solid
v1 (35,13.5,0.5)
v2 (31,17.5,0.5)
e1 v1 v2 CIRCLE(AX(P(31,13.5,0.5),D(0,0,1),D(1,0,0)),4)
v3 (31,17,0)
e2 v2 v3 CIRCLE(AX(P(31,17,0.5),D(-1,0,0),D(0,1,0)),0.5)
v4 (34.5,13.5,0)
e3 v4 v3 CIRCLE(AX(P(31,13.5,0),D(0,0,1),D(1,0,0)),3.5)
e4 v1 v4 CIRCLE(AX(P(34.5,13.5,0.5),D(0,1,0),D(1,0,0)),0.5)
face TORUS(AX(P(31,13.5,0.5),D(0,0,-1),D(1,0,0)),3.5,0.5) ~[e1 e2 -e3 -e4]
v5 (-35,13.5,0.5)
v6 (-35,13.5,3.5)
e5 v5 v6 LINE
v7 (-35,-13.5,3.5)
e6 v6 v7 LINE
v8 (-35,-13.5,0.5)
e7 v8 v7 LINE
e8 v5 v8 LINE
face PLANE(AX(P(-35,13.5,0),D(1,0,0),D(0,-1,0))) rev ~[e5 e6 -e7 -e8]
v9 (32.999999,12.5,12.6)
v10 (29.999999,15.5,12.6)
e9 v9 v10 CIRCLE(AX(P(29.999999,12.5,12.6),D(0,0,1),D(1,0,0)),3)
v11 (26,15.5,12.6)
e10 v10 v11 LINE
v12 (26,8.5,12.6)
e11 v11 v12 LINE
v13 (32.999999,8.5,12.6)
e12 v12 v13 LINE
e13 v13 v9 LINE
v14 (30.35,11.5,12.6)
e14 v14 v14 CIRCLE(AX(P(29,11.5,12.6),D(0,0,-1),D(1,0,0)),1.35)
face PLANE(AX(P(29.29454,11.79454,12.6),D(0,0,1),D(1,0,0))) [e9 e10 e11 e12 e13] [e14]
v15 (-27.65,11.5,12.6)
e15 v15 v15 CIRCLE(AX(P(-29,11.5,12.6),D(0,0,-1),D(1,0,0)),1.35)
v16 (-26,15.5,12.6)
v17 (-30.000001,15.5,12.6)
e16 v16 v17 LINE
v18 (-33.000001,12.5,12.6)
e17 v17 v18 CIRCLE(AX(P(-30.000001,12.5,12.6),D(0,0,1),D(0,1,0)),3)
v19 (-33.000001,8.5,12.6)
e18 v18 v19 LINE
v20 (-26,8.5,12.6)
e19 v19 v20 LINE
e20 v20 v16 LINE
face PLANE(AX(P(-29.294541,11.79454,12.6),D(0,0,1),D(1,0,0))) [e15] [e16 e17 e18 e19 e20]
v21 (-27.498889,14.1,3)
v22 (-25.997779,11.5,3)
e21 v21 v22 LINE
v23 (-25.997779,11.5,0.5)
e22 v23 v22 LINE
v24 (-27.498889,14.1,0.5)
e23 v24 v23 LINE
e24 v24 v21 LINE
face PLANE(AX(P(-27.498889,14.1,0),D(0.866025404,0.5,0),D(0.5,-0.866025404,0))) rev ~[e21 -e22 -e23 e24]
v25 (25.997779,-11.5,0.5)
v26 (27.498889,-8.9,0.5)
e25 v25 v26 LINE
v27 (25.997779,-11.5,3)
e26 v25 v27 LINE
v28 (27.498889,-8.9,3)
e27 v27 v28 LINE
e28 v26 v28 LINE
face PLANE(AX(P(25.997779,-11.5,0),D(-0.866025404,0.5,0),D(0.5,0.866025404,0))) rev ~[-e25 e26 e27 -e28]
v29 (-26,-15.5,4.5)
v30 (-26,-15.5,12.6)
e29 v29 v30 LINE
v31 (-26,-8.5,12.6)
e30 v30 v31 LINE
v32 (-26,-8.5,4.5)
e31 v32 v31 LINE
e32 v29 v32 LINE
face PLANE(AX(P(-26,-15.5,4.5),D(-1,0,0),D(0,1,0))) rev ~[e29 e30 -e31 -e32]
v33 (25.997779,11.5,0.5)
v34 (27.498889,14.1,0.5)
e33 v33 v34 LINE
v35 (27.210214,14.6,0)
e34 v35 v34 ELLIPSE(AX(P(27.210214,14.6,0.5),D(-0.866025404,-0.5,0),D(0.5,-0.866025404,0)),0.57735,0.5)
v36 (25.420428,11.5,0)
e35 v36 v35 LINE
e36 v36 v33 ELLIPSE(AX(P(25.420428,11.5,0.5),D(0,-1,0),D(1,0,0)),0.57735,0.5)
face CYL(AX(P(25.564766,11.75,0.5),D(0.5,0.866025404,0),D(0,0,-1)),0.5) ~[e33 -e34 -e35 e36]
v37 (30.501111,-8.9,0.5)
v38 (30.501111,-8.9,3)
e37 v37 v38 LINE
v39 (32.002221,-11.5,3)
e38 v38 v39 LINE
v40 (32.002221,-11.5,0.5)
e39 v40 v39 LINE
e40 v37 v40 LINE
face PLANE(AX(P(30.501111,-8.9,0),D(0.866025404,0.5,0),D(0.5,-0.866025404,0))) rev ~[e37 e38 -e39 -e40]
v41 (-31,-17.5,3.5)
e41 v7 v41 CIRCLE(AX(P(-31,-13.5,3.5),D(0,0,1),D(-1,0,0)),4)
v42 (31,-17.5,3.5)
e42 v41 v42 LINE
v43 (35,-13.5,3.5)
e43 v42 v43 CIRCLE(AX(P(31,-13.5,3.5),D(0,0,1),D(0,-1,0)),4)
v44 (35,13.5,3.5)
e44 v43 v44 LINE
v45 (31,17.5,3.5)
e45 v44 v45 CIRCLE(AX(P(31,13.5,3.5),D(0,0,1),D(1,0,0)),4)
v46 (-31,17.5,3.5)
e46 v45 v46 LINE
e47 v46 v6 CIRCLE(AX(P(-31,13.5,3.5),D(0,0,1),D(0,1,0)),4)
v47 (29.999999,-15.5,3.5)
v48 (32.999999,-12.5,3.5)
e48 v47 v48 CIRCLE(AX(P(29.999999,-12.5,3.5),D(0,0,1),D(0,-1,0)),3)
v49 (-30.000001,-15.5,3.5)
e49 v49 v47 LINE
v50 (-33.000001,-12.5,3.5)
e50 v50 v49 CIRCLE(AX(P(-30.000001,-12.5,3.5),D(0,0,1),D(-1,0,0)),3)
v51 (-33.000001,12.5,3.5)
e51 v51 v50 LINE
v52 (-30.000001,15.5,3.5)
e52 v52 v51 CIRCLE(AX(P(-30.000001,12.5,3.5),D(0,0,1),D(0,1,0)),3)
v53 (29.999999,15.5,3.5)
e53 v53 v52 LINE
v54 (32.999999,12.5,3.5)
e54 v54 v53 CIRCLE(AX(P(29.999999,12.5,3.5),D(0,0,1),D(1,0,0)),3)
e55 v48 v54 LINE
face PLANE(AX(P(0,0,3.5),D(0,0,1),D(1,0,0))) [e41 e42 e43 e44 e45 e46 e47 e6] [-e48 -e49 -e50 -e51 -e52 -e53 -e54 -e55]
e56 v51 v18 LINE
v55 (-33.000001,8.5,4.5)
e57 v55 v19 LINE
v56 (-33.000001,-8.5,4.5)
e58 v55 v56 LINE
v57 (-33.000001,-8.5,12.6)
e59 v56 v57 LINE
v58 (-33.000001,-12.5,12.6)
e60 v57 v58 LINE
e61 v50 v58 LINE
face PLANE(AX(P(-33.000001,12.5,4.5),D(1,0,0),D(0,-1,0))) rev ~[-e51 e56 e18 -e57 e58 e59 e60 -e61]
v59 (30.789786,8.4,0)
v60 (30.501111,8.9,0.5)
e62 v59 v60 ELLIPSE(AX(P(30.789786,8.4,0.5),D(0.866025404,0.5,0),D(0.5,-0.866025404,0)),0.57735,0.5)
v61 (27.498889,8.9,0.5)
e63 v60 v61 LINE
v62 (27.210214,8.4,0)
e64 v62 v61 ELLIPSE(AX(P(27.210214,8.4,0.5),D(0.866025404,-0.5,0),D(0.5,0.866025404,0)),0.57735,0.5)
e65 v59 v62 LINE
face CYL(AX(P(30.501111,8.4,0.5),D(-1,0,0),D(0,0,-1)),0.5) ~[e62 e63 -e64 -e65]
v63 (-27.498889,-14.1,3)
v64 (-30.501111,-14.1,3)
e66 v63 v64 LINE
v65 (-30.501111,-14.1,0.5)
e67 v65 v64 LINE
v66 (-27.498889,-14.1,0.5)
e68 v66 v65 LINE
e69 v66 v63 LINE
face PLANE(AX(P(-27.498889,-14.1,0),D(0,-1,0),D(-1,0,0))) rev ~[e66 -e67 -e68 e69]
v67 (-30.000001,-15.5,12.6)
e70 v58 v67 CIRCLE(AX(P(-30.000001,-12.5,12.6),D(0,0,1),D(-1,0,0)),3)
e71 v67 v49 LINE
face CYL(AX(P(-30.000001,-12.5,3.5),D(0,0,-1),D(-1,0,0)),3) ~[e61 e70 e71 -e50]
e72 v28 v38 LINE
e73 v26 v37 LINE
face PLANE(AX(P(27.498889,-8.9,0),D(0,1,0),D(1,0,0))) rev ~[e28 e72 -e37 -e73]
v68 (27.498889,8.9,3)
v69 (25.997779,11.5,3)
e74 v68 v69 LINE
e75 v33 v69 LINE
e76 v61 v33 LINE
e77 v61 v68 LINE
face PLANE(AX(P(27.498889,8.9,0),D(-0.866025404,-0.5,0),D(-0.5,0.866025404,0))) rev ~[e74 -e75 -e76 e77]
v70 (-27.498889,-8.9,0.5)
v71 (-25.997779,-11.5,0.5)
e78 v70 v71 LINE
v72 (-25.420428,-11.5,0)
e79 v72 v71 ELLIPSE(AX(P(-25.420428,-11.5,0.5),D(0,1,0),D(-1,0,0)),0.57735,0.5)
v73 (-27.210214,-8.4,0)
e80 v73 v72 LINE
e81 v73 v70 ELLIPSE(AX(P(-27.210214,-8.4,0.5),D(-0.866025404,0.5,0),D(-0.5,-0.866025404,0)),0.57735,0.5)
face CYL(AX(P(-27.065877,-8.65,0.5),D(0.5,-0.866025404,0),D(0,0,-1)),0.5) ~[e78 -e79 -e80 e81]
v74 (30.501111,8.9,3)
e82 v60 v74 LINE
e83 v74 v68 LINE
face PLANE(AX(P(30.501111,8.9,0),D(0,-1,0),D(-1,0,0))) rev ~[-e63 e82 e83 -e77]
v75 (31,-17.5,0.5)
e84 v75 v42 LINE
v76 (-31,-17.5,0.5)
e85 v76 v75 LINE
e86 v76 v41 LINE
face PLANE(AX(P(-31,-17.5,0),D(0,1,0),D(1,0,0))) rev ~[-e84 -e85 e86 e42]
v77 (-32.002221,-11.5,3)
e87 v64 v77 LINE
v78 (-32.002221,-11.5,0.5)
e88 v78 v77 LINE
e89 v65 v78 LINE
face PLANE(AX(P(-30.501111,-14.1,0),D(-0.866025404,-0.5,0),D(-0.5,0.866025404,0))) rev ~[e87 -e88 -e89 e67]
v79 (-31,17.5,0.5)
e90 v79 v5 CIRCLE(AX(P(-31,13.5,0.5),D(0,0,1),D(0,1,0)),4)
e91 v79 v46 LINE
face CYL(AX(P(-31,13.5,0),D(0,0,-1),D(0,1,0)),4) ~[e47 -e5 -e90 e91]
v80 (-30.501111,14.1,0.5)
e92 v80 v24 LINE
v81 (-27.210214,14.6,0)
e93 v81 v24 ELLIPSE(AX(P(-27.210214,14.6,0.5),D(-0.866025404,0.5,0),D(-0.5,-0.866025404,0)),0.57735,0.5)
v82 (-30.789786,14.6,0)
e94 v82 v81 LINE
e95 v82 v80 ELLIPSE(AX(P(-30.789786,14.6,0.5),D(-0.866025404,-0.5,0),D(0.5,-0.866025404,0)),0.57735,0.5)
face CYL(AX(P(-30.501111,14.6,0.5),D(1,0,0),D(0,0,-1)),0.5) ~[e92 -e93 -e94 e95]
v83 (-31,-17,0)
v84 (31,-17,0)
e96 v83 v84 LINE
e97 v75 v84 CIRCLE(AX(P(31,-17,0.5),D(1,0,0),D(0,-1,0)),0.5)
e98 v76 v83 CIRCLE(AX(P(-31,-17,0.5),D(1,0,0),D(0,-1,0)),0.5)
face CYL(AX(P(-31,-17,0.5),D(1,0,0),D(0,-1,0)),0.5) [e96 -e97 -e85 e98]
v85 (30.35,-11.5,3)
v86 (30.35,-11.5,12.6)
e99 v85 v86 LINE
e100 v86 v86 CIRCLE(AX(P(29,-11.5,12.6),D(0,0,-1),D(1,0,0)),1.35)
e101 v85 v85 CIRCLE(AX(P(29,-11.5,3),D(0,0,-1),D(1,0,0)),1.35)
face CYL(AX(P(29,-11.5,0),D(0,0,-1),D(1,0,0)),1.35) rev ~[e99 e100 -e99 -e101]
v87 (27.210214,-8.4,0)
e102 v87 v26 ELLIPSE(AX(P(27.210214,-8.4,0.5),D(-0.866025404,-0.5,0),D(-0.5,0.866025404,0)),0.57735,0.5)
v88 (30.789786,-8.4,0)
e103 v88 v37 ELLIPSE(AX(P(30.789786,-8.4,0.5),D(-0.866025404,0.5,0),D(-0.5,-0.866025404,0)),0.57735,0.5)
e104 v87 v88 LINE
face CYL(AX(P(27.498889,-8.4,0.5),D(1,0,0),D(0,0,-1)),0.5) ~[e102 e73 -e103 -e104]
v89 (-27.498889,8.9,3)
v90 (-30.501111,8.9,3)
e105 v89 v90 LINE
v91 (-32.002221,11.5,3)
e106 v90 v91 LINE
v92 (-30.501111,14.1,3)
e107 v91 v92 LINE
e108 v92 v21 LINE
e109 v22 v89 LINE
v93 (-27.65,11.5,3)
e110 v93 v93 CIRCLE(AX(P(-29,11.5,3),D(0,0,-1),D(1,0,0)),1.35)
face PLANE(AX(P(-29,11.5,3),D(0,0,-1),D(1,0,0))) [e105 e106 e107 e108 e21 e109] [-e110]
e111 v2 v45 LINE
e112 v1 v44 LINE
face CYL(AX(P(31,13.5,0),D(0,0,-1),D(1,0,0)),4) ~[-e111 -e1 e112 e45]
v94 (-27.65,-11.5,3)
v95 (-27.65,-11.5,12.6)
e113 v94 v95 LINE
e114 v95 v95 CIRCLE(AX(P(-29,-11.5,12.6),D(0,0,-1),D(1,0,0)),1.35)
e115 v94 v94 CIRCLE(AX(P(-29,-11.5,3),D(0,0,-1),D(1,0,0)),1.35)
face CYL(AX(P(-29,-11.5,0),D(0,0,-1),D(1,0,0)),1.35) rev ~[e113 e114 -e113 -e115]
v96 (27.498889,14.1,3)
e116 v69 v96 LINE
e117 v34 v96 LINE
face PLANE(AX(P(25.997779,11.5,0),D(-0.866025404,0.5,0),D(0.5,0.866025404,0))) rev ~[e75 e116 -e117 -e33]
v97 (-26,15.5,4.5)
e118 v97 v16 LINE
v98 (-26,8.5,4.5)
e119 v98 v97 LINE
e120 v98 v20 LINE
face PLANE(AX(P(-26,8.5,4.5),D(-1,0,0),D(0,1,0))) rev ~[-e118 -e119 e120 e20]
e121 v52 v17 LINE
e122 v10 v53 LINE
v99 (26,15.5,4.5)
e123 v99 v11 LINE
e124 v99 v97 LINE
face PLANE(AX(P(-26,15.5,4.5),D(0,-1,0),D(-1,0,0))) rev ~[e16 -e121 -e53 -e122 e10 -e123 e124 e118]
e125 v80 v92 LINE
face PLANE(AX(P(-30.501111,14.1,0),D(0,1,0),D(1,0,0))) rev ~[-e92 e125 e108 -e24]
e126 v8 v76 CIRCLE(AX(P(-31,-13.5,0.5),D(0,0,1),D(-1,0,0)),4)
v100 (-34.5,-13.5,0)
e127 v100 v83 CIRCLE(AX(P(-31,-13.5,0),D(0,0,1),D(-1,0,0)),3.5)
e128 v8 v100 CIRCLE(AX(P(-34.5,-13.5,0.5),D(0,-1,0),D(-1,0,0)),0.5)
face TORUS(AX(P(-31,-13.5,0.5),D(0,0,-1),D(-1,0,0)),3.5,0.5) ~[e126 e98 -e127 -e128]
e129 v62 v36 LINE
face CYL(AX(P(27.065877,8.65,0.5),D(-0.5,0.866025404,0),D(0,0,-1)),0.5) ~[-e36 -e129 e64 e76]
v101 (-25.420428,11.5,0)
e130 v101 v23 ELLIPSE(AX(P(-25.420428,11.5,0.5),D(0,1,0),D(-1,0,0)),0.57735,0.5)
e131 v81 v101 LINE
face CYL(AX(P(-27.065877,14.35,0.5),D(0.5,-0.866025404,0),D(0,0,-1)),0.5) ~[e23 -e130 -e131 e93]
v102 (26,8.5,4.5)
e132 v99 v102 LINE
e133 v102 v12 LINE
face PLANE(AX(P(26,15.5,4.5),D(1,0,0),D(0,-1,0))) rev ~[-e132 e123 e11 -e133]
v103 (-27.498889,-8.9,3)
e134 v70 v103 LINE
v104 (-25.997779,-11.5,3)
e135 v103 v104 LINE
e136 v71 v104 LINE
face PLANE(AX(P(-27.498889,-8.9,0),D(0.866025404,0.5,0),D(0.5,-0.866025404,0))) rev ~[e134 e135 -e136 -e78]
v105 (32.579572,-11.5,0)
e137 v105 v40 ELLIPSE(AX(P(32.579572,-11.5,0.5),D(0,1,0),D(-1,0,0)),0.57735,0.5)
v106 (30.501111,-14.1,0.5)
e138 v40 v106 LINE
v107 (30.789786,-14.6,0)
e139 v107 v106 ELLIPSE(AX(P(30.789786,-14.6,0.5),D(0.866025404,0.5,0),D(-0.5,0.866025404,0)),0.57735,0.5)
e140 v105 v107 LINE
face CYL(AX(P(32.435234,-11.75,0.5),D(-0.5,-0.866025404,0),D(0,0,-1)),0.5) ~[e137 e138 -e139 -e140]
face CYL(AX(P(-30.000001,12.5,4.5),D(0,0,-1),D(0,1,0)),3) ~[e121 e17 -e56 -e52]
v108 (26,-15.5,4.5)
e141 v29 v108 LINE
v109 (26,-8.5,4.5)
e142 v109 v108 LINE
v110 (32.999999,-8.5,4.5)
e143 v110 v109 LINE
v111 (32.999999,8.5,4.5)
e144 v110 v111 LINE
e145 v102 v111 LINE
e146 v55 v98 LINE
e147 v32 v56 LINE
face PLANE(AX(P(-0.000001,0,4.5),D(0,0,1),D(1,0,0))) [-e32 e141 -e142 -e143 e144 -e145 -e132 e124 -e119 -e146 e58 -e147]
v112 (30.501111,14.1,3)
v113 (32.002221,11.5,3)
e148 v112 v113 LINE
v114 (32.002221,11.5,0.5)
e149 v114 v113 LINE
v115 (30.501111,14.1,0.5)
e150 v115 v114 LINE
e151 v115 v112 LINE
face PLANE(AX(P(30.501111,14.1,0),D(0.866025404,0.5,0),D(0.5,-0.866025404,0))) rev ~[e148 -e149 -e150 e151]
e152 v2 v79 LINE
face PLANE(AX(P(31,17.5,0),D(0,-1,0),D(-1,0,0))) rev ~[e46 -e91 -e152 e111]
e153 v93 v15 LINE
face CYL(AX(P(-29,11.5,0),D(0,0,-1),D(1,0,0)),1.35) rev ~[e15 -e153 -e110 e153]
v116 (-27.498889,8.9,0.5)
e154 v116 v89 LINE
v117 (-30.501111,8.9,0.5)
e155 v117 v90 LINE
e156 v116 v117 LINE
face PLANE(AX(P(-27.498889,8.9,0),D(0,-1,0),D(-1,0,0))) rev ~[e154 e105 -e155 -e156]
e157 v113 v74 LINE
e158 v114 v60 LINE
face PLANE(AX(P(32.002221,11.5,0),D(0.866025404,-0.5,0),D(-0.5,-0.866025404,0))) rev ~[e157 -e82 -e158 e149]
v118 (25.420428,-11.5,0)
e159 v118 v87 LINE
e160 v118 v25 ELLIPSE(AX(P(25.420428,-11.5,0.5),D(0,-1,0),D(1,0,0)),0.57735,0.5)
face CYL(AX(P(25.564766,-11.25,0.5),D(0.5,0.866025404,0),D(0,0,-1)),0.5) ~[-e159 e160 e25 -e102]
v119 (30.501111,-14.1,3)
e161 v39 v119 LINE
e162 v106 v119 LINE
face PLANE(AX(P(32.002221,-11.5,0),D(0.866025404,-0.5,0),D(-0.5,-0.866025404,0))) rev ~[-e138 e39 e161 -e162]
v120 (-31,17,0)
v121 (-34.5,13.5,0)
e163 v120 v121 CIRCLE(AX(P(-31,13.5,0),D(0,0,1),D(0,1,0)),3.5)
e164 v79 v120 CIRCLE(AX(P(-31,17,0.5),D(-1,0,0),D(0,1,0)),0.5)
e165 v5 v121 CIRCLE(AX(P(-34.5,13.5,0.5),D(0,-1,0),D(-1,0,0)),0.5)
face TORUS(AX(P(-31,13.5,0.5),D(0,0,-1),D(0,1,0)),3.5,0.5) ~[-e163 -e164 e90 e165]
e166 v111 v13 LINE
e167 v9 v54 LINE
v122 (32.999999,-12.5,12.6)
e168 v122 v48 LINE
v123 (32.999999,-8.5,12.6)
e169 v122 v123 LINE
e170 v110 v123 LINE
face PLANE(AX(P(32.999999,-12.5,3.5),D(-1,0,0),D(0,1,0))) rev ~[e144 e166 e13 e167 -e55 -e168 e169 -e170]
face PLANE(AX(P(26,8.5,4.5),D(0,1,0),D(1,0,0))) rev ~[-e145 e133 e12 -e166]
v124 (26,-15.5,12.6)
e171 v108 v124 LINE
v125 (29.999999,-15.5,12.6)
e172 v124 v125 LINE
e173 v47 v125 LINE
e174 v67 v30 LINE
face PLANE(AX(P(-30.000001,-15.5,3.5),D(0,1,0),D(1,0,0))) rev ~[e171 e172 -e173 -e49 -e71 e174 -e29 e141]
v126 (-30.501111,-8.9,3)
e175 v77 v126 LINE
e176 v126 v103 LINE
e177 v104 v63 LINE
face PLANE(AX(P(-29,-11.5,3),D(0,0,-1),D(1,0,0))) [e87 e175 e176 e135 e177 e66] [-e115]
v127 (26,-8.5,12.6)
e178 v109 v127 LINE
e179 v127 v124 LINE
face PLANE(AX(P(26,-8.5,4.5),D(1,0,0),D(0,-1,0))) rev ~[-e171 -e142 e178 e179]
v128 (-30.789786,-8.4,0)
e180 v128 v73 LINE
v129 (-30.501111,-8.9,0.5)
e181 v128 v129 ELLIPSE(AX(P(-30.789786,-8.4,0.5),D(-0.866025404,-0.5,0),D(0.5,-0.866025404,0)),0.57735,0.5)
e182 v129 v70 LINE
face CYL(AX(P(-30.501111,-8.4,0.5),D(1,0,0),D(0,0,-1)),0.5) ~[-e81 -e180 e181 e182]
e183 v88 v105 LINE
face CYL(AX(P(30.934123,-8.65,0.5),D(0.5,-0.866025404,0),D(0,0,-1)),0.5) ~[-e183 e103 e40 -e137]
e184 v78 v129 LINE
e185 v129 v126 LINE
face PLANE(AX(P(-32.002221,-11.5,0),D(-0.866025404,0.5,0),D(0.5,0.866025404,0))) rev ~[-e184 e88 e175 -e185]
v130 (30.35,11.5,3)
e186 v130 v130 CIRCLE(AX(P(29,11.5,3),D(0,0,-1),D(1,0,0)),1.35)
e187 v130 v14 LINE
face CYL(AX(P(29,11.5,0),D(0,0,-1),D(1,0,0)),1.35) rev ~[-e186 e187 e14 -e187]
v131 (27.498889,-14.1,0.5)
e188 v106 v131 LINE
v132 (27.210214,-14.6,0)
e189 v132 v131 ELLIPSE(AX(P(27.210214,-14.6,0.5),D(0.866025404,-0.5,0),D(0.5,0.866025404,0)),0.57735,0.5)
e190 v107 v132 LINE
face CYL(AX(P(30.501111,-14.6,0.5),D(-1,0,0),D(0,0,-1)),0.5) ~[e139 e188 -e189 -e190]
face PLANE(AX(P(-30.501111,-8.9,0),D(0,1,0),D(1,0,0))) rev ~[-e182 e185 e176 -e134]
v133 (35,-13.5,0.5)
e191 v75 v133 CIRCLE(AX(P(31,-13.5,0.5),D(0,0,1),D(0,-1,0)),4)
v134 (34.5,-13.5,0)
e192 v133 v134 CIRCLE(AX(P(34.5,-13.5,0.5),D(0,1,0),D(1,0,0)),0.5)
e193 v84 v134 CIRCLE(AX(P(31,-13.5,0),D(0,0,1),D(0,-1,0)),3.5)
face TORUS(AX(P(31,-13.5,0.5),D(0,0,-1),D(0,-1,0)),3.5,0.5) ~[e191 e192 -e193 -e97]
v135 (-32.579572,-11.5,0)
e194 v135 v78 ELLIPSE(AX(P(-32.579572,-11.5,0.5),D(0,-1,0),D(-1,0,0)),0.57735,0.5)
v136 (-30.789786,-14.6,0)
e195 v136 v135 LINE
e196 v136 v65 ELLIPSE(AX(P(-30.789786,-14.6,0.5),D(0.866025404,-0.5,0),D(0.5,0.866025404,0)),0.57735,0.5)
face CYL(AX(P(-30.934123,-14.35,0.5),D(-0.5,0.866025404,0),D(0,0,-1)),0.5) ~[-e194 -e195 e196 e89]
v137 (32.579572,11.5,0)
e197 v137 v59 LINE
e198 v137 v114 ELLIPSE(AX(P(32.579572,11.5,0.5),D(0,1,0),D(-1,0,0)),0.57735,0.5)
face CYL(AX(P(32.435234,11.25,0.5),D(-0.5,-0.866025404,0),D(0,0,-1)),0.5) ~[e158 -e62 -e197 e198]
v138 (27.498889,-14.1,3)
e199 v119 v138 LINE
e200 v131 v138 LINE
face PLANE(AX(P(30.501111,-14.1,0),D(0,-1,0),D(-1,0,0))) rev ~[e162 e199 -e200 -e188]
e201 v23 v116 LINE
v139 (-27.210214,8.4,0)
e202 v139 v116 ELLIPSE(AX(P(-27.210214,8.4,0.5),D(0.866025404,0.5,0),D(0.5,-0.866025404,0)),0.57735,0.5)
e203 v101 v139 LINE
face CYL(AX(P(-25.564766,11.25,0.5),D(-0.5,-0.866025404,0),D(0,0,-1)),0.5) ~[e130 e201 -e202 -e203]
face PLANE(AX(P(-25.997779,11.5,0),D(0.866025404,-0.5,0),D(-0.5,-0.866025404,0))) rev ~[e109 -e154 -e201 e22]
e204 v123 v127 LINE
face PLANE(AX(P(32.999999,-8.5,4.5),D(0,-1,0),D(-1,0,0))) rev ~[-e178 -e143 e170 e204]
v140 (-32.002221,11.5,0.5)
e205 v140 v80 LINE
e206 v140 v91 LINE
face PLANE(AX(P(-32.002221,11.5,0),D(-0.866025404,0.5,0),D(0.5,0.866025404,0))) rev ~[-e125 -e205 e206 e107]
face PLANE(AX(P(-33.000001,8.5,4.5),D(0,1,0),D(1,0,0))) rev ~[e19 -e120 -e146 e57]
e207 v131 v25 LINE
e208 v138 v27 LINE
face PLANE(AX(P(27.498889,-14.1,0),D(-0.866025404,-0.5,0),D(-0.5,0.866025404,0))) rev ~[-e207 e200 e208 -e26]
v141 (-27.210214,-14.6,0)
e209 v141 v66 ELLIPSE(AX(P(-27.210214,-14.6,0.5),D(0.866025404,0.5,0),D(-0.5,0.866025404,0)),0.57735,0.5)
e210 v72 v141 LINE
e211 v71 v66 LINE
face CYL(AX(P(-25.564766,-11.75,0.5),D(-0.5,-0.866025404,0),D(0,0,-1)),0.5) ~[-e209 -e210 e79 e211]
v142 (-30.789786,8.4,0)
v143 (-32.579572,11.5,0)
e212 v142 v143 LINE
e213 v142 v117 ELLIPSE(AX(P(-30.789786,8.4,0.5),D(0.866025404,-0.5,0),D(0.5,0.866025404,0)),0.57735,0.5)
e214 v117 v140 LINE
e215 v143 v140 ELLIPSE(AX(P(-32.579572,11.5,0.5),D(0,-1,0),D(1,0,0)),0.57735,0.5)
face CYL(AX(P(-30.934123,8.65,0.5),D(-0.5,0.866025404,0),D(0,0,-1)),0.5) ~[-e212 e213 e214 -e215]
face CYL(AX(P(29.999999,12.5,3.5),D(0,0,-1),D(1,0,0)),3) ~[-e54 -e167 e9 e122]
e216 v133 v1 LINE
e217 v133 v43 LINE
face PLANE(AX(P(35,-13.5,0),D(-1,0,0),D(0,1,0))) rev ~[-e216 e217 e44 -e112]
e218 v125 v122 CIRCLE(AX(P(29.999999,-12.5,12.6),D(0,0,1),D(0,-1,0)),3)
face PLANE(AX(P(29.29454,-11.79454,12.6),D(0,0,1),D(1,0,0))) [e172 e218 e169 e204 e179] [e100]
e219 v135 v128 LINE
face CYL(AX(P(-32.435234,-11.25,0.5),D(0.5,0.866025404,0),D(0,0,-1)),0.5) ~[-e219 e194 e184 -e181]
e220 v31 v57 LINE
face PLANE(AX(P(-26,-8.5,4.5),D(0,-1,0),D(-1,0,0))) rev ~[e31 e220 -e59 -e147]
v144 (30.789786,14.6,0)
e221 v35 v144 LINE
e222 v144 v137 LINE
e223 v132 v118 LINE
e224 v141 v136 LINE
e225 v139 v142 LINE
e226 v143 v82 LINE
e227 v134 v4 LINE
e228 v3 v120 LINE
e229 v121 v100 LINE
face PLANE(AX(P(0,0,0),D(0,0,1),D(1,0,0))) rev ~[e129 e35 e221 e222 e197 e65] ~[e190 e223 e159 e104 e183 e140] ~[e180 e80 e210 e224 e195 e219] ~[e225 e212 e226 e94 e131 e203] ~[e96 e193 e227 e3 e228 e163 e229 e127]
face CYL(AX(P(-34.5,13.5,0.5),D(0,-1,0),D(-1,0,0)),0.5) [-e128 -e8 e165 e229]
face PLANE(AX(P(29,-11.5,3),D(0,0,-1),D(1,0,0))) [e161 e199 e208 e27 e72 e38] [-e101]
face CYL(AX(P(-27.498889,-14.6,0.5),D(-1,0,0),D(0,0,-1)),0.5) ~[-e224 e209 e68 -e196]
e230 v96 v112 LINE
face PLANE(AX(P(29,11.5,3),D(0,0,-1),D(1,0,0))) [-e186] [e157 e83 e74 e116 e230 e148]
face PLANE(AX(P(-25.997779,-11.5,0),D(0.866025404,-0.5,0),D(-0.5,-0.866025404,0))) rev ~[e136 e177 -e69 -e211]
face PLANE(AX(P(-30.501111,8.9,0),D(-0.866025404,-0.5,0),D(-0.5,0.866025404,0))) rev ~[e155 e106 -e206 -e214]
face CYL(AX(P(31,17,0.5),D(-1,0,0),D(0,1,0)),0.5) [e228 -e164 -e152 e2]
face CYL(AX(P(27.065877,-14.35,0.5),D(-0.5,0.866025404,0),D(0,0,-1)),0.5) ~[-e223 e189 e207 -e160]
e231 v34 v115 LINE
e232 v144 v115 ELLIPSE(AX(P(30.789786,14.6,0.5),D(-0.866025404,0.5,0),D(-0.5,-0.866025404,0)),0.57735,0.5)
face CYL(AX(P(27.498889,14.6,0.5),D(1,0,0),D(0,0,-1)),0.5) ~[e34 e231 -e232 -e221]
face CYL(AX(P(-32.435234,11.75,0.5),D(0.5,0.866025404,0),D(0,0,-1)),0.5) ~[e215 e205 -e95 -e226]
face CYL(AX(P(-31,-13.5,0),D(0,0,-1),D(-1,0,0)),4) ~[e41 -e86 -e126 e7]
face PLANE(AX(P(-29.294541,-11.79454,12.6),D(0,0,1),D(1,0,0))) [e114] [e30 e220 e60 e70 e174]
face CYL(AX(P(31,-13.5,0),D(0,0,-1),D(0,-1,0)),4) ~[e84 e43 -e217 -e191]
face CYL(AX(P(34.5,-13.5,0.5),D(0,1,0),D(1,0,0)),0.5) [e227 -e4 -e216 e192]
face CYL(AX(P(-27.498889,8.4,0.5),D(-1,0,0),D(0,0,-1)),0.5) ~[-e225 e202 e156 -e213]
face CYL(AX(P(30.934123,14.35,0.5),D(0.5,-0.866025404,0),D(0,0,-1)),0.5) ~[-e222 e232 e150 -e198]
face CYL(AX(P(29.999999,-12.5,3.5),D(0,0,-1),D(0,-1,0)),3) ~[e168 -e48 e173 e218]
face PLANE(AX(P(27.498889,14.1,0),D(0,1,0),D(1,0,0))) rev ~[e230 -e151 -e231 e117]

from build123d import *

# Parameters (mm, degrees)
F1_DEPTH = 3.5
F3_DEPTH = 1
F5_DEPTH = 8.1
F6_R     = 1.35
F7_DEPTH = 3
F8_DEPTH = 12.601
F9_R     = 0.5


with BuildPart() as f1:
    # F0 (on Top) → F1 (new body)
    with BuildSketch(Plane.XY):
        with BuildLine():
            Line((31, 17.5), (-31, 17.5))
            ThreePointArc((-31, 17.5), (-33.8284271247, 16.3284271247), (-35, 13.5))
            Line((-35, 13.5), (-35, -13.5))
            ThreePointArc((-35, -13.5), (-33.8284271247, -16.3284271247), (-31, -17.5))
            Line((-31, -17.5), (31, -17.5))
            ThreePointArc((31, -17.5), (33.8284271247, -16.3284271247), (35, -13.5))
            Line((35, -13.5), (35, 13.5))
            ThreePointArc((35, 13.5), (33.8284271247, 16.3284271247), (31, 17.5))
        make_face()
    extrude(amount=F1_DEPTH)

    # F2 (on face) → F3 (join)
    with BuildSketch(Plane.XY.offset(3.5)):
        with BuildLine():
            Line((29.9999990687, 15.5), (-30.0000009313, 15.5))
            ThreePointArc((-30.0000009313, 15.5), (-32.1213212749, 14.6213203436), (-33.0000009313, 12.5))
            Line((-33.0000009313, 12.5), (-33.0000009313, -12.5))
            ThreePointArc((-33.0000009313, -12.5), (-32.1213212749, -14.6213203436), (-30.0000009313, -15.5))
            Line((-30.0000009313, -15.5), (29.9999990687, -15.5))
            ThreePointArc((29.9999990687, -15.5), (32.1213194122, -14.6213203436), (32.9999990687, -12.5))
            Line((32.9999990687, -12.5), (32.9999990687, 12.5))
            ThreePointArc((32.9999990687, 12.5), (32.1213194122, 14.6213203436), (29.9999990687, 15.5))
        make_face()
    extrude(amount=F3_DEPTH)

    # F4 (on face) → F5 (join)
    with BuildSketch(Plane.XY.offset(4.5)):
        with BuildLine():
            Line((-26, 15.5), (-30.0000009313, 15.5))
            ThreePointArc((-30.0000009313, 15.5), (-32.1213212749, 14.6213203436), (-33.0000009313, 12.5))
            Line((-33.0000009313, 12.5), (-33.0000009313, 8.5))
            Line((-33.0000009313, 8.5), (-26, 8.5))
            Line((-26, 8.5), (-26, 15.5))
        make_face()
        with BuildLine():
            Line((-26, -8.5), (-33.0000009313, -8.5))
            Line((-33.0000009313, -8.5), (-33.0000009313, -12.5))
            ThreePointArc((-33.0000009313, -12.5), (-32.1213212749, -14.6213203436), (-30.0000009313, -15.5))
            Line((-30.0000009313, -15.5), (-26, -15.5))
            Line((-26, -15.5), (-26, -8.5))
        make_face()
        with BuildLine():
            Line((29.9999990687, 15.5), (26, 15.5))
            Line((26, 15.5), (26, 8.5))
            Line((26, 8.5), (32.9999990687, 8.5))
            Line((32.9999990687, 8.5), (32.9999990687, 12.5))
            ThreePointArc((32.9999990687, 12.5), (32.1213194122, 14.6213203436), (29.9999990687, 15.5))
        make_face()
        with BuildLine():
            Line((32.9999990687, -12.5), (32.9999990687, -8.5))
            Line((32.9999990687, -8.5), (26, -8.5))
            Line((26, -8.5), (26, -15.5))
            Line((26, -15.5), (29.9999990687, -15.5))
            ThreePointArc((29.9999990687, -15.5), (32.1213194122, -14.6213203436), (32.9999990687, -12.5))
        make_face()
    extrude(amount=F5_DEPTH)

    # F6 (on face) → F7 (cut)
    with BuildSketch(Plane(origin=(0, 0, 0), x_dir=(1, 0, 0), z_dir=(0, 0, -1))):
        Polygon((-30.5011106999, 8.9), (-27.4988893001, 8.9), (-25.9977786002, 11.5), (-27.4988893001, 14.1), (-30.5011106999, 14.1), (-32.0022213998, 11.5), align=None)
        with Locations((-29, 11.5)):
            Circle(F6_R, mode=Mode.SUBTRACT)
        Polygon((27.4988893001, 8.9), (30.5011106999, 8.9), (32.0022213998, 11.5), (30.5011106999, 14.1), (27.4988893001, 14.1), (25.9977786002, 11.5), align=None)
        with Locations((29, 11.5)):
            Circle(F6_R, mode=Mode.SUBTRACT)
        Polygon((30.5011106999, -8.9), (27.4988893001, -8.9), (25.9977786002, -11.5), (27.4988893001, -14.1), (30.5011106999, -14.1), (32.0022213998, -11.5), align=None)
        with Locations((29, -11.5)):
            Circle(F6_R, mode=Mode.SUBTRACT)
        Polygon((-27.4988893001, -8.9), (-30.5011106999, -8.9), (-32.0022213998, -11.5), (-30.5011106999, -14.1), (-27.4988893001, -14.1), (-25.9977786002, -11.5), align=None)
        with Locations((-29, -11.5)):
            Circle(F6_R, mode=Mode.SUBTRACT)
    extrude(amount=-F7_DEPTH, mode=Mode.SUBTRACT)

    # F8 (cut, through all): faces of the model
    f8_faces = [f1.faces().sort_by_distance(p)[0] for p in [
        (-29, -11.5, 0),
        (29, -11.5, 0),
        (29, 11.5, 0),
        (-29, 11.5, 0),
    ]]
    extrude(f8_faces, amount=-F8_DEPTH, mode=Mode.SUBTRACT)

    # F9
    f9_edges = [f1.edges().sort_by_distance(p)[0] for p in [
        (0, 17.5, 0),
        (33.828427, 16.328427, 0),
        (-33.828427, 16.328427, 0),
        (35, 0, 0),
        (-35, 0, 0),
        (33.828427, -16.328427, 0),
        (-33.828427, -16.328427, 0),
        (0, -17.5, 0),
        (-31.251666, -12.8, 0),
        (-29, -14.1, 0),
        (-26.748334, -12.8, 0),
        (-26.748334, -10.2, 0),
        (-29, -8.9, 0),
        (-31.251666, -10.2, 0),
        (26.748334, -10.2, 0),
        (26.748334, -12.8, 0),
        (29, -14.1, 0),
        (31.251666, -12.8, 0),
        (31.251666, -10.2, 0),
        (29, -8.9, 0),
        (-26.748334, 10.2, 0),
        (-26.748334, 12.8, 0),
        (-29, 14.1, 0),
        (-31.251666, 12.8, 0),
        (-31.251666, 10.2, 0),
        (-29, 8.9, 0),
        (31.251666, 10.2, 0),
        (31.251666, 12.8, 0),
        (29, 14.1, 0),
        (26.748334, 12.8, 0),
        (26.748334, 10.2, 0),
        (29, 8.9, 0),
    ]]
    fillet(f9_edges, radius=F9_R)


solid = f1.part
